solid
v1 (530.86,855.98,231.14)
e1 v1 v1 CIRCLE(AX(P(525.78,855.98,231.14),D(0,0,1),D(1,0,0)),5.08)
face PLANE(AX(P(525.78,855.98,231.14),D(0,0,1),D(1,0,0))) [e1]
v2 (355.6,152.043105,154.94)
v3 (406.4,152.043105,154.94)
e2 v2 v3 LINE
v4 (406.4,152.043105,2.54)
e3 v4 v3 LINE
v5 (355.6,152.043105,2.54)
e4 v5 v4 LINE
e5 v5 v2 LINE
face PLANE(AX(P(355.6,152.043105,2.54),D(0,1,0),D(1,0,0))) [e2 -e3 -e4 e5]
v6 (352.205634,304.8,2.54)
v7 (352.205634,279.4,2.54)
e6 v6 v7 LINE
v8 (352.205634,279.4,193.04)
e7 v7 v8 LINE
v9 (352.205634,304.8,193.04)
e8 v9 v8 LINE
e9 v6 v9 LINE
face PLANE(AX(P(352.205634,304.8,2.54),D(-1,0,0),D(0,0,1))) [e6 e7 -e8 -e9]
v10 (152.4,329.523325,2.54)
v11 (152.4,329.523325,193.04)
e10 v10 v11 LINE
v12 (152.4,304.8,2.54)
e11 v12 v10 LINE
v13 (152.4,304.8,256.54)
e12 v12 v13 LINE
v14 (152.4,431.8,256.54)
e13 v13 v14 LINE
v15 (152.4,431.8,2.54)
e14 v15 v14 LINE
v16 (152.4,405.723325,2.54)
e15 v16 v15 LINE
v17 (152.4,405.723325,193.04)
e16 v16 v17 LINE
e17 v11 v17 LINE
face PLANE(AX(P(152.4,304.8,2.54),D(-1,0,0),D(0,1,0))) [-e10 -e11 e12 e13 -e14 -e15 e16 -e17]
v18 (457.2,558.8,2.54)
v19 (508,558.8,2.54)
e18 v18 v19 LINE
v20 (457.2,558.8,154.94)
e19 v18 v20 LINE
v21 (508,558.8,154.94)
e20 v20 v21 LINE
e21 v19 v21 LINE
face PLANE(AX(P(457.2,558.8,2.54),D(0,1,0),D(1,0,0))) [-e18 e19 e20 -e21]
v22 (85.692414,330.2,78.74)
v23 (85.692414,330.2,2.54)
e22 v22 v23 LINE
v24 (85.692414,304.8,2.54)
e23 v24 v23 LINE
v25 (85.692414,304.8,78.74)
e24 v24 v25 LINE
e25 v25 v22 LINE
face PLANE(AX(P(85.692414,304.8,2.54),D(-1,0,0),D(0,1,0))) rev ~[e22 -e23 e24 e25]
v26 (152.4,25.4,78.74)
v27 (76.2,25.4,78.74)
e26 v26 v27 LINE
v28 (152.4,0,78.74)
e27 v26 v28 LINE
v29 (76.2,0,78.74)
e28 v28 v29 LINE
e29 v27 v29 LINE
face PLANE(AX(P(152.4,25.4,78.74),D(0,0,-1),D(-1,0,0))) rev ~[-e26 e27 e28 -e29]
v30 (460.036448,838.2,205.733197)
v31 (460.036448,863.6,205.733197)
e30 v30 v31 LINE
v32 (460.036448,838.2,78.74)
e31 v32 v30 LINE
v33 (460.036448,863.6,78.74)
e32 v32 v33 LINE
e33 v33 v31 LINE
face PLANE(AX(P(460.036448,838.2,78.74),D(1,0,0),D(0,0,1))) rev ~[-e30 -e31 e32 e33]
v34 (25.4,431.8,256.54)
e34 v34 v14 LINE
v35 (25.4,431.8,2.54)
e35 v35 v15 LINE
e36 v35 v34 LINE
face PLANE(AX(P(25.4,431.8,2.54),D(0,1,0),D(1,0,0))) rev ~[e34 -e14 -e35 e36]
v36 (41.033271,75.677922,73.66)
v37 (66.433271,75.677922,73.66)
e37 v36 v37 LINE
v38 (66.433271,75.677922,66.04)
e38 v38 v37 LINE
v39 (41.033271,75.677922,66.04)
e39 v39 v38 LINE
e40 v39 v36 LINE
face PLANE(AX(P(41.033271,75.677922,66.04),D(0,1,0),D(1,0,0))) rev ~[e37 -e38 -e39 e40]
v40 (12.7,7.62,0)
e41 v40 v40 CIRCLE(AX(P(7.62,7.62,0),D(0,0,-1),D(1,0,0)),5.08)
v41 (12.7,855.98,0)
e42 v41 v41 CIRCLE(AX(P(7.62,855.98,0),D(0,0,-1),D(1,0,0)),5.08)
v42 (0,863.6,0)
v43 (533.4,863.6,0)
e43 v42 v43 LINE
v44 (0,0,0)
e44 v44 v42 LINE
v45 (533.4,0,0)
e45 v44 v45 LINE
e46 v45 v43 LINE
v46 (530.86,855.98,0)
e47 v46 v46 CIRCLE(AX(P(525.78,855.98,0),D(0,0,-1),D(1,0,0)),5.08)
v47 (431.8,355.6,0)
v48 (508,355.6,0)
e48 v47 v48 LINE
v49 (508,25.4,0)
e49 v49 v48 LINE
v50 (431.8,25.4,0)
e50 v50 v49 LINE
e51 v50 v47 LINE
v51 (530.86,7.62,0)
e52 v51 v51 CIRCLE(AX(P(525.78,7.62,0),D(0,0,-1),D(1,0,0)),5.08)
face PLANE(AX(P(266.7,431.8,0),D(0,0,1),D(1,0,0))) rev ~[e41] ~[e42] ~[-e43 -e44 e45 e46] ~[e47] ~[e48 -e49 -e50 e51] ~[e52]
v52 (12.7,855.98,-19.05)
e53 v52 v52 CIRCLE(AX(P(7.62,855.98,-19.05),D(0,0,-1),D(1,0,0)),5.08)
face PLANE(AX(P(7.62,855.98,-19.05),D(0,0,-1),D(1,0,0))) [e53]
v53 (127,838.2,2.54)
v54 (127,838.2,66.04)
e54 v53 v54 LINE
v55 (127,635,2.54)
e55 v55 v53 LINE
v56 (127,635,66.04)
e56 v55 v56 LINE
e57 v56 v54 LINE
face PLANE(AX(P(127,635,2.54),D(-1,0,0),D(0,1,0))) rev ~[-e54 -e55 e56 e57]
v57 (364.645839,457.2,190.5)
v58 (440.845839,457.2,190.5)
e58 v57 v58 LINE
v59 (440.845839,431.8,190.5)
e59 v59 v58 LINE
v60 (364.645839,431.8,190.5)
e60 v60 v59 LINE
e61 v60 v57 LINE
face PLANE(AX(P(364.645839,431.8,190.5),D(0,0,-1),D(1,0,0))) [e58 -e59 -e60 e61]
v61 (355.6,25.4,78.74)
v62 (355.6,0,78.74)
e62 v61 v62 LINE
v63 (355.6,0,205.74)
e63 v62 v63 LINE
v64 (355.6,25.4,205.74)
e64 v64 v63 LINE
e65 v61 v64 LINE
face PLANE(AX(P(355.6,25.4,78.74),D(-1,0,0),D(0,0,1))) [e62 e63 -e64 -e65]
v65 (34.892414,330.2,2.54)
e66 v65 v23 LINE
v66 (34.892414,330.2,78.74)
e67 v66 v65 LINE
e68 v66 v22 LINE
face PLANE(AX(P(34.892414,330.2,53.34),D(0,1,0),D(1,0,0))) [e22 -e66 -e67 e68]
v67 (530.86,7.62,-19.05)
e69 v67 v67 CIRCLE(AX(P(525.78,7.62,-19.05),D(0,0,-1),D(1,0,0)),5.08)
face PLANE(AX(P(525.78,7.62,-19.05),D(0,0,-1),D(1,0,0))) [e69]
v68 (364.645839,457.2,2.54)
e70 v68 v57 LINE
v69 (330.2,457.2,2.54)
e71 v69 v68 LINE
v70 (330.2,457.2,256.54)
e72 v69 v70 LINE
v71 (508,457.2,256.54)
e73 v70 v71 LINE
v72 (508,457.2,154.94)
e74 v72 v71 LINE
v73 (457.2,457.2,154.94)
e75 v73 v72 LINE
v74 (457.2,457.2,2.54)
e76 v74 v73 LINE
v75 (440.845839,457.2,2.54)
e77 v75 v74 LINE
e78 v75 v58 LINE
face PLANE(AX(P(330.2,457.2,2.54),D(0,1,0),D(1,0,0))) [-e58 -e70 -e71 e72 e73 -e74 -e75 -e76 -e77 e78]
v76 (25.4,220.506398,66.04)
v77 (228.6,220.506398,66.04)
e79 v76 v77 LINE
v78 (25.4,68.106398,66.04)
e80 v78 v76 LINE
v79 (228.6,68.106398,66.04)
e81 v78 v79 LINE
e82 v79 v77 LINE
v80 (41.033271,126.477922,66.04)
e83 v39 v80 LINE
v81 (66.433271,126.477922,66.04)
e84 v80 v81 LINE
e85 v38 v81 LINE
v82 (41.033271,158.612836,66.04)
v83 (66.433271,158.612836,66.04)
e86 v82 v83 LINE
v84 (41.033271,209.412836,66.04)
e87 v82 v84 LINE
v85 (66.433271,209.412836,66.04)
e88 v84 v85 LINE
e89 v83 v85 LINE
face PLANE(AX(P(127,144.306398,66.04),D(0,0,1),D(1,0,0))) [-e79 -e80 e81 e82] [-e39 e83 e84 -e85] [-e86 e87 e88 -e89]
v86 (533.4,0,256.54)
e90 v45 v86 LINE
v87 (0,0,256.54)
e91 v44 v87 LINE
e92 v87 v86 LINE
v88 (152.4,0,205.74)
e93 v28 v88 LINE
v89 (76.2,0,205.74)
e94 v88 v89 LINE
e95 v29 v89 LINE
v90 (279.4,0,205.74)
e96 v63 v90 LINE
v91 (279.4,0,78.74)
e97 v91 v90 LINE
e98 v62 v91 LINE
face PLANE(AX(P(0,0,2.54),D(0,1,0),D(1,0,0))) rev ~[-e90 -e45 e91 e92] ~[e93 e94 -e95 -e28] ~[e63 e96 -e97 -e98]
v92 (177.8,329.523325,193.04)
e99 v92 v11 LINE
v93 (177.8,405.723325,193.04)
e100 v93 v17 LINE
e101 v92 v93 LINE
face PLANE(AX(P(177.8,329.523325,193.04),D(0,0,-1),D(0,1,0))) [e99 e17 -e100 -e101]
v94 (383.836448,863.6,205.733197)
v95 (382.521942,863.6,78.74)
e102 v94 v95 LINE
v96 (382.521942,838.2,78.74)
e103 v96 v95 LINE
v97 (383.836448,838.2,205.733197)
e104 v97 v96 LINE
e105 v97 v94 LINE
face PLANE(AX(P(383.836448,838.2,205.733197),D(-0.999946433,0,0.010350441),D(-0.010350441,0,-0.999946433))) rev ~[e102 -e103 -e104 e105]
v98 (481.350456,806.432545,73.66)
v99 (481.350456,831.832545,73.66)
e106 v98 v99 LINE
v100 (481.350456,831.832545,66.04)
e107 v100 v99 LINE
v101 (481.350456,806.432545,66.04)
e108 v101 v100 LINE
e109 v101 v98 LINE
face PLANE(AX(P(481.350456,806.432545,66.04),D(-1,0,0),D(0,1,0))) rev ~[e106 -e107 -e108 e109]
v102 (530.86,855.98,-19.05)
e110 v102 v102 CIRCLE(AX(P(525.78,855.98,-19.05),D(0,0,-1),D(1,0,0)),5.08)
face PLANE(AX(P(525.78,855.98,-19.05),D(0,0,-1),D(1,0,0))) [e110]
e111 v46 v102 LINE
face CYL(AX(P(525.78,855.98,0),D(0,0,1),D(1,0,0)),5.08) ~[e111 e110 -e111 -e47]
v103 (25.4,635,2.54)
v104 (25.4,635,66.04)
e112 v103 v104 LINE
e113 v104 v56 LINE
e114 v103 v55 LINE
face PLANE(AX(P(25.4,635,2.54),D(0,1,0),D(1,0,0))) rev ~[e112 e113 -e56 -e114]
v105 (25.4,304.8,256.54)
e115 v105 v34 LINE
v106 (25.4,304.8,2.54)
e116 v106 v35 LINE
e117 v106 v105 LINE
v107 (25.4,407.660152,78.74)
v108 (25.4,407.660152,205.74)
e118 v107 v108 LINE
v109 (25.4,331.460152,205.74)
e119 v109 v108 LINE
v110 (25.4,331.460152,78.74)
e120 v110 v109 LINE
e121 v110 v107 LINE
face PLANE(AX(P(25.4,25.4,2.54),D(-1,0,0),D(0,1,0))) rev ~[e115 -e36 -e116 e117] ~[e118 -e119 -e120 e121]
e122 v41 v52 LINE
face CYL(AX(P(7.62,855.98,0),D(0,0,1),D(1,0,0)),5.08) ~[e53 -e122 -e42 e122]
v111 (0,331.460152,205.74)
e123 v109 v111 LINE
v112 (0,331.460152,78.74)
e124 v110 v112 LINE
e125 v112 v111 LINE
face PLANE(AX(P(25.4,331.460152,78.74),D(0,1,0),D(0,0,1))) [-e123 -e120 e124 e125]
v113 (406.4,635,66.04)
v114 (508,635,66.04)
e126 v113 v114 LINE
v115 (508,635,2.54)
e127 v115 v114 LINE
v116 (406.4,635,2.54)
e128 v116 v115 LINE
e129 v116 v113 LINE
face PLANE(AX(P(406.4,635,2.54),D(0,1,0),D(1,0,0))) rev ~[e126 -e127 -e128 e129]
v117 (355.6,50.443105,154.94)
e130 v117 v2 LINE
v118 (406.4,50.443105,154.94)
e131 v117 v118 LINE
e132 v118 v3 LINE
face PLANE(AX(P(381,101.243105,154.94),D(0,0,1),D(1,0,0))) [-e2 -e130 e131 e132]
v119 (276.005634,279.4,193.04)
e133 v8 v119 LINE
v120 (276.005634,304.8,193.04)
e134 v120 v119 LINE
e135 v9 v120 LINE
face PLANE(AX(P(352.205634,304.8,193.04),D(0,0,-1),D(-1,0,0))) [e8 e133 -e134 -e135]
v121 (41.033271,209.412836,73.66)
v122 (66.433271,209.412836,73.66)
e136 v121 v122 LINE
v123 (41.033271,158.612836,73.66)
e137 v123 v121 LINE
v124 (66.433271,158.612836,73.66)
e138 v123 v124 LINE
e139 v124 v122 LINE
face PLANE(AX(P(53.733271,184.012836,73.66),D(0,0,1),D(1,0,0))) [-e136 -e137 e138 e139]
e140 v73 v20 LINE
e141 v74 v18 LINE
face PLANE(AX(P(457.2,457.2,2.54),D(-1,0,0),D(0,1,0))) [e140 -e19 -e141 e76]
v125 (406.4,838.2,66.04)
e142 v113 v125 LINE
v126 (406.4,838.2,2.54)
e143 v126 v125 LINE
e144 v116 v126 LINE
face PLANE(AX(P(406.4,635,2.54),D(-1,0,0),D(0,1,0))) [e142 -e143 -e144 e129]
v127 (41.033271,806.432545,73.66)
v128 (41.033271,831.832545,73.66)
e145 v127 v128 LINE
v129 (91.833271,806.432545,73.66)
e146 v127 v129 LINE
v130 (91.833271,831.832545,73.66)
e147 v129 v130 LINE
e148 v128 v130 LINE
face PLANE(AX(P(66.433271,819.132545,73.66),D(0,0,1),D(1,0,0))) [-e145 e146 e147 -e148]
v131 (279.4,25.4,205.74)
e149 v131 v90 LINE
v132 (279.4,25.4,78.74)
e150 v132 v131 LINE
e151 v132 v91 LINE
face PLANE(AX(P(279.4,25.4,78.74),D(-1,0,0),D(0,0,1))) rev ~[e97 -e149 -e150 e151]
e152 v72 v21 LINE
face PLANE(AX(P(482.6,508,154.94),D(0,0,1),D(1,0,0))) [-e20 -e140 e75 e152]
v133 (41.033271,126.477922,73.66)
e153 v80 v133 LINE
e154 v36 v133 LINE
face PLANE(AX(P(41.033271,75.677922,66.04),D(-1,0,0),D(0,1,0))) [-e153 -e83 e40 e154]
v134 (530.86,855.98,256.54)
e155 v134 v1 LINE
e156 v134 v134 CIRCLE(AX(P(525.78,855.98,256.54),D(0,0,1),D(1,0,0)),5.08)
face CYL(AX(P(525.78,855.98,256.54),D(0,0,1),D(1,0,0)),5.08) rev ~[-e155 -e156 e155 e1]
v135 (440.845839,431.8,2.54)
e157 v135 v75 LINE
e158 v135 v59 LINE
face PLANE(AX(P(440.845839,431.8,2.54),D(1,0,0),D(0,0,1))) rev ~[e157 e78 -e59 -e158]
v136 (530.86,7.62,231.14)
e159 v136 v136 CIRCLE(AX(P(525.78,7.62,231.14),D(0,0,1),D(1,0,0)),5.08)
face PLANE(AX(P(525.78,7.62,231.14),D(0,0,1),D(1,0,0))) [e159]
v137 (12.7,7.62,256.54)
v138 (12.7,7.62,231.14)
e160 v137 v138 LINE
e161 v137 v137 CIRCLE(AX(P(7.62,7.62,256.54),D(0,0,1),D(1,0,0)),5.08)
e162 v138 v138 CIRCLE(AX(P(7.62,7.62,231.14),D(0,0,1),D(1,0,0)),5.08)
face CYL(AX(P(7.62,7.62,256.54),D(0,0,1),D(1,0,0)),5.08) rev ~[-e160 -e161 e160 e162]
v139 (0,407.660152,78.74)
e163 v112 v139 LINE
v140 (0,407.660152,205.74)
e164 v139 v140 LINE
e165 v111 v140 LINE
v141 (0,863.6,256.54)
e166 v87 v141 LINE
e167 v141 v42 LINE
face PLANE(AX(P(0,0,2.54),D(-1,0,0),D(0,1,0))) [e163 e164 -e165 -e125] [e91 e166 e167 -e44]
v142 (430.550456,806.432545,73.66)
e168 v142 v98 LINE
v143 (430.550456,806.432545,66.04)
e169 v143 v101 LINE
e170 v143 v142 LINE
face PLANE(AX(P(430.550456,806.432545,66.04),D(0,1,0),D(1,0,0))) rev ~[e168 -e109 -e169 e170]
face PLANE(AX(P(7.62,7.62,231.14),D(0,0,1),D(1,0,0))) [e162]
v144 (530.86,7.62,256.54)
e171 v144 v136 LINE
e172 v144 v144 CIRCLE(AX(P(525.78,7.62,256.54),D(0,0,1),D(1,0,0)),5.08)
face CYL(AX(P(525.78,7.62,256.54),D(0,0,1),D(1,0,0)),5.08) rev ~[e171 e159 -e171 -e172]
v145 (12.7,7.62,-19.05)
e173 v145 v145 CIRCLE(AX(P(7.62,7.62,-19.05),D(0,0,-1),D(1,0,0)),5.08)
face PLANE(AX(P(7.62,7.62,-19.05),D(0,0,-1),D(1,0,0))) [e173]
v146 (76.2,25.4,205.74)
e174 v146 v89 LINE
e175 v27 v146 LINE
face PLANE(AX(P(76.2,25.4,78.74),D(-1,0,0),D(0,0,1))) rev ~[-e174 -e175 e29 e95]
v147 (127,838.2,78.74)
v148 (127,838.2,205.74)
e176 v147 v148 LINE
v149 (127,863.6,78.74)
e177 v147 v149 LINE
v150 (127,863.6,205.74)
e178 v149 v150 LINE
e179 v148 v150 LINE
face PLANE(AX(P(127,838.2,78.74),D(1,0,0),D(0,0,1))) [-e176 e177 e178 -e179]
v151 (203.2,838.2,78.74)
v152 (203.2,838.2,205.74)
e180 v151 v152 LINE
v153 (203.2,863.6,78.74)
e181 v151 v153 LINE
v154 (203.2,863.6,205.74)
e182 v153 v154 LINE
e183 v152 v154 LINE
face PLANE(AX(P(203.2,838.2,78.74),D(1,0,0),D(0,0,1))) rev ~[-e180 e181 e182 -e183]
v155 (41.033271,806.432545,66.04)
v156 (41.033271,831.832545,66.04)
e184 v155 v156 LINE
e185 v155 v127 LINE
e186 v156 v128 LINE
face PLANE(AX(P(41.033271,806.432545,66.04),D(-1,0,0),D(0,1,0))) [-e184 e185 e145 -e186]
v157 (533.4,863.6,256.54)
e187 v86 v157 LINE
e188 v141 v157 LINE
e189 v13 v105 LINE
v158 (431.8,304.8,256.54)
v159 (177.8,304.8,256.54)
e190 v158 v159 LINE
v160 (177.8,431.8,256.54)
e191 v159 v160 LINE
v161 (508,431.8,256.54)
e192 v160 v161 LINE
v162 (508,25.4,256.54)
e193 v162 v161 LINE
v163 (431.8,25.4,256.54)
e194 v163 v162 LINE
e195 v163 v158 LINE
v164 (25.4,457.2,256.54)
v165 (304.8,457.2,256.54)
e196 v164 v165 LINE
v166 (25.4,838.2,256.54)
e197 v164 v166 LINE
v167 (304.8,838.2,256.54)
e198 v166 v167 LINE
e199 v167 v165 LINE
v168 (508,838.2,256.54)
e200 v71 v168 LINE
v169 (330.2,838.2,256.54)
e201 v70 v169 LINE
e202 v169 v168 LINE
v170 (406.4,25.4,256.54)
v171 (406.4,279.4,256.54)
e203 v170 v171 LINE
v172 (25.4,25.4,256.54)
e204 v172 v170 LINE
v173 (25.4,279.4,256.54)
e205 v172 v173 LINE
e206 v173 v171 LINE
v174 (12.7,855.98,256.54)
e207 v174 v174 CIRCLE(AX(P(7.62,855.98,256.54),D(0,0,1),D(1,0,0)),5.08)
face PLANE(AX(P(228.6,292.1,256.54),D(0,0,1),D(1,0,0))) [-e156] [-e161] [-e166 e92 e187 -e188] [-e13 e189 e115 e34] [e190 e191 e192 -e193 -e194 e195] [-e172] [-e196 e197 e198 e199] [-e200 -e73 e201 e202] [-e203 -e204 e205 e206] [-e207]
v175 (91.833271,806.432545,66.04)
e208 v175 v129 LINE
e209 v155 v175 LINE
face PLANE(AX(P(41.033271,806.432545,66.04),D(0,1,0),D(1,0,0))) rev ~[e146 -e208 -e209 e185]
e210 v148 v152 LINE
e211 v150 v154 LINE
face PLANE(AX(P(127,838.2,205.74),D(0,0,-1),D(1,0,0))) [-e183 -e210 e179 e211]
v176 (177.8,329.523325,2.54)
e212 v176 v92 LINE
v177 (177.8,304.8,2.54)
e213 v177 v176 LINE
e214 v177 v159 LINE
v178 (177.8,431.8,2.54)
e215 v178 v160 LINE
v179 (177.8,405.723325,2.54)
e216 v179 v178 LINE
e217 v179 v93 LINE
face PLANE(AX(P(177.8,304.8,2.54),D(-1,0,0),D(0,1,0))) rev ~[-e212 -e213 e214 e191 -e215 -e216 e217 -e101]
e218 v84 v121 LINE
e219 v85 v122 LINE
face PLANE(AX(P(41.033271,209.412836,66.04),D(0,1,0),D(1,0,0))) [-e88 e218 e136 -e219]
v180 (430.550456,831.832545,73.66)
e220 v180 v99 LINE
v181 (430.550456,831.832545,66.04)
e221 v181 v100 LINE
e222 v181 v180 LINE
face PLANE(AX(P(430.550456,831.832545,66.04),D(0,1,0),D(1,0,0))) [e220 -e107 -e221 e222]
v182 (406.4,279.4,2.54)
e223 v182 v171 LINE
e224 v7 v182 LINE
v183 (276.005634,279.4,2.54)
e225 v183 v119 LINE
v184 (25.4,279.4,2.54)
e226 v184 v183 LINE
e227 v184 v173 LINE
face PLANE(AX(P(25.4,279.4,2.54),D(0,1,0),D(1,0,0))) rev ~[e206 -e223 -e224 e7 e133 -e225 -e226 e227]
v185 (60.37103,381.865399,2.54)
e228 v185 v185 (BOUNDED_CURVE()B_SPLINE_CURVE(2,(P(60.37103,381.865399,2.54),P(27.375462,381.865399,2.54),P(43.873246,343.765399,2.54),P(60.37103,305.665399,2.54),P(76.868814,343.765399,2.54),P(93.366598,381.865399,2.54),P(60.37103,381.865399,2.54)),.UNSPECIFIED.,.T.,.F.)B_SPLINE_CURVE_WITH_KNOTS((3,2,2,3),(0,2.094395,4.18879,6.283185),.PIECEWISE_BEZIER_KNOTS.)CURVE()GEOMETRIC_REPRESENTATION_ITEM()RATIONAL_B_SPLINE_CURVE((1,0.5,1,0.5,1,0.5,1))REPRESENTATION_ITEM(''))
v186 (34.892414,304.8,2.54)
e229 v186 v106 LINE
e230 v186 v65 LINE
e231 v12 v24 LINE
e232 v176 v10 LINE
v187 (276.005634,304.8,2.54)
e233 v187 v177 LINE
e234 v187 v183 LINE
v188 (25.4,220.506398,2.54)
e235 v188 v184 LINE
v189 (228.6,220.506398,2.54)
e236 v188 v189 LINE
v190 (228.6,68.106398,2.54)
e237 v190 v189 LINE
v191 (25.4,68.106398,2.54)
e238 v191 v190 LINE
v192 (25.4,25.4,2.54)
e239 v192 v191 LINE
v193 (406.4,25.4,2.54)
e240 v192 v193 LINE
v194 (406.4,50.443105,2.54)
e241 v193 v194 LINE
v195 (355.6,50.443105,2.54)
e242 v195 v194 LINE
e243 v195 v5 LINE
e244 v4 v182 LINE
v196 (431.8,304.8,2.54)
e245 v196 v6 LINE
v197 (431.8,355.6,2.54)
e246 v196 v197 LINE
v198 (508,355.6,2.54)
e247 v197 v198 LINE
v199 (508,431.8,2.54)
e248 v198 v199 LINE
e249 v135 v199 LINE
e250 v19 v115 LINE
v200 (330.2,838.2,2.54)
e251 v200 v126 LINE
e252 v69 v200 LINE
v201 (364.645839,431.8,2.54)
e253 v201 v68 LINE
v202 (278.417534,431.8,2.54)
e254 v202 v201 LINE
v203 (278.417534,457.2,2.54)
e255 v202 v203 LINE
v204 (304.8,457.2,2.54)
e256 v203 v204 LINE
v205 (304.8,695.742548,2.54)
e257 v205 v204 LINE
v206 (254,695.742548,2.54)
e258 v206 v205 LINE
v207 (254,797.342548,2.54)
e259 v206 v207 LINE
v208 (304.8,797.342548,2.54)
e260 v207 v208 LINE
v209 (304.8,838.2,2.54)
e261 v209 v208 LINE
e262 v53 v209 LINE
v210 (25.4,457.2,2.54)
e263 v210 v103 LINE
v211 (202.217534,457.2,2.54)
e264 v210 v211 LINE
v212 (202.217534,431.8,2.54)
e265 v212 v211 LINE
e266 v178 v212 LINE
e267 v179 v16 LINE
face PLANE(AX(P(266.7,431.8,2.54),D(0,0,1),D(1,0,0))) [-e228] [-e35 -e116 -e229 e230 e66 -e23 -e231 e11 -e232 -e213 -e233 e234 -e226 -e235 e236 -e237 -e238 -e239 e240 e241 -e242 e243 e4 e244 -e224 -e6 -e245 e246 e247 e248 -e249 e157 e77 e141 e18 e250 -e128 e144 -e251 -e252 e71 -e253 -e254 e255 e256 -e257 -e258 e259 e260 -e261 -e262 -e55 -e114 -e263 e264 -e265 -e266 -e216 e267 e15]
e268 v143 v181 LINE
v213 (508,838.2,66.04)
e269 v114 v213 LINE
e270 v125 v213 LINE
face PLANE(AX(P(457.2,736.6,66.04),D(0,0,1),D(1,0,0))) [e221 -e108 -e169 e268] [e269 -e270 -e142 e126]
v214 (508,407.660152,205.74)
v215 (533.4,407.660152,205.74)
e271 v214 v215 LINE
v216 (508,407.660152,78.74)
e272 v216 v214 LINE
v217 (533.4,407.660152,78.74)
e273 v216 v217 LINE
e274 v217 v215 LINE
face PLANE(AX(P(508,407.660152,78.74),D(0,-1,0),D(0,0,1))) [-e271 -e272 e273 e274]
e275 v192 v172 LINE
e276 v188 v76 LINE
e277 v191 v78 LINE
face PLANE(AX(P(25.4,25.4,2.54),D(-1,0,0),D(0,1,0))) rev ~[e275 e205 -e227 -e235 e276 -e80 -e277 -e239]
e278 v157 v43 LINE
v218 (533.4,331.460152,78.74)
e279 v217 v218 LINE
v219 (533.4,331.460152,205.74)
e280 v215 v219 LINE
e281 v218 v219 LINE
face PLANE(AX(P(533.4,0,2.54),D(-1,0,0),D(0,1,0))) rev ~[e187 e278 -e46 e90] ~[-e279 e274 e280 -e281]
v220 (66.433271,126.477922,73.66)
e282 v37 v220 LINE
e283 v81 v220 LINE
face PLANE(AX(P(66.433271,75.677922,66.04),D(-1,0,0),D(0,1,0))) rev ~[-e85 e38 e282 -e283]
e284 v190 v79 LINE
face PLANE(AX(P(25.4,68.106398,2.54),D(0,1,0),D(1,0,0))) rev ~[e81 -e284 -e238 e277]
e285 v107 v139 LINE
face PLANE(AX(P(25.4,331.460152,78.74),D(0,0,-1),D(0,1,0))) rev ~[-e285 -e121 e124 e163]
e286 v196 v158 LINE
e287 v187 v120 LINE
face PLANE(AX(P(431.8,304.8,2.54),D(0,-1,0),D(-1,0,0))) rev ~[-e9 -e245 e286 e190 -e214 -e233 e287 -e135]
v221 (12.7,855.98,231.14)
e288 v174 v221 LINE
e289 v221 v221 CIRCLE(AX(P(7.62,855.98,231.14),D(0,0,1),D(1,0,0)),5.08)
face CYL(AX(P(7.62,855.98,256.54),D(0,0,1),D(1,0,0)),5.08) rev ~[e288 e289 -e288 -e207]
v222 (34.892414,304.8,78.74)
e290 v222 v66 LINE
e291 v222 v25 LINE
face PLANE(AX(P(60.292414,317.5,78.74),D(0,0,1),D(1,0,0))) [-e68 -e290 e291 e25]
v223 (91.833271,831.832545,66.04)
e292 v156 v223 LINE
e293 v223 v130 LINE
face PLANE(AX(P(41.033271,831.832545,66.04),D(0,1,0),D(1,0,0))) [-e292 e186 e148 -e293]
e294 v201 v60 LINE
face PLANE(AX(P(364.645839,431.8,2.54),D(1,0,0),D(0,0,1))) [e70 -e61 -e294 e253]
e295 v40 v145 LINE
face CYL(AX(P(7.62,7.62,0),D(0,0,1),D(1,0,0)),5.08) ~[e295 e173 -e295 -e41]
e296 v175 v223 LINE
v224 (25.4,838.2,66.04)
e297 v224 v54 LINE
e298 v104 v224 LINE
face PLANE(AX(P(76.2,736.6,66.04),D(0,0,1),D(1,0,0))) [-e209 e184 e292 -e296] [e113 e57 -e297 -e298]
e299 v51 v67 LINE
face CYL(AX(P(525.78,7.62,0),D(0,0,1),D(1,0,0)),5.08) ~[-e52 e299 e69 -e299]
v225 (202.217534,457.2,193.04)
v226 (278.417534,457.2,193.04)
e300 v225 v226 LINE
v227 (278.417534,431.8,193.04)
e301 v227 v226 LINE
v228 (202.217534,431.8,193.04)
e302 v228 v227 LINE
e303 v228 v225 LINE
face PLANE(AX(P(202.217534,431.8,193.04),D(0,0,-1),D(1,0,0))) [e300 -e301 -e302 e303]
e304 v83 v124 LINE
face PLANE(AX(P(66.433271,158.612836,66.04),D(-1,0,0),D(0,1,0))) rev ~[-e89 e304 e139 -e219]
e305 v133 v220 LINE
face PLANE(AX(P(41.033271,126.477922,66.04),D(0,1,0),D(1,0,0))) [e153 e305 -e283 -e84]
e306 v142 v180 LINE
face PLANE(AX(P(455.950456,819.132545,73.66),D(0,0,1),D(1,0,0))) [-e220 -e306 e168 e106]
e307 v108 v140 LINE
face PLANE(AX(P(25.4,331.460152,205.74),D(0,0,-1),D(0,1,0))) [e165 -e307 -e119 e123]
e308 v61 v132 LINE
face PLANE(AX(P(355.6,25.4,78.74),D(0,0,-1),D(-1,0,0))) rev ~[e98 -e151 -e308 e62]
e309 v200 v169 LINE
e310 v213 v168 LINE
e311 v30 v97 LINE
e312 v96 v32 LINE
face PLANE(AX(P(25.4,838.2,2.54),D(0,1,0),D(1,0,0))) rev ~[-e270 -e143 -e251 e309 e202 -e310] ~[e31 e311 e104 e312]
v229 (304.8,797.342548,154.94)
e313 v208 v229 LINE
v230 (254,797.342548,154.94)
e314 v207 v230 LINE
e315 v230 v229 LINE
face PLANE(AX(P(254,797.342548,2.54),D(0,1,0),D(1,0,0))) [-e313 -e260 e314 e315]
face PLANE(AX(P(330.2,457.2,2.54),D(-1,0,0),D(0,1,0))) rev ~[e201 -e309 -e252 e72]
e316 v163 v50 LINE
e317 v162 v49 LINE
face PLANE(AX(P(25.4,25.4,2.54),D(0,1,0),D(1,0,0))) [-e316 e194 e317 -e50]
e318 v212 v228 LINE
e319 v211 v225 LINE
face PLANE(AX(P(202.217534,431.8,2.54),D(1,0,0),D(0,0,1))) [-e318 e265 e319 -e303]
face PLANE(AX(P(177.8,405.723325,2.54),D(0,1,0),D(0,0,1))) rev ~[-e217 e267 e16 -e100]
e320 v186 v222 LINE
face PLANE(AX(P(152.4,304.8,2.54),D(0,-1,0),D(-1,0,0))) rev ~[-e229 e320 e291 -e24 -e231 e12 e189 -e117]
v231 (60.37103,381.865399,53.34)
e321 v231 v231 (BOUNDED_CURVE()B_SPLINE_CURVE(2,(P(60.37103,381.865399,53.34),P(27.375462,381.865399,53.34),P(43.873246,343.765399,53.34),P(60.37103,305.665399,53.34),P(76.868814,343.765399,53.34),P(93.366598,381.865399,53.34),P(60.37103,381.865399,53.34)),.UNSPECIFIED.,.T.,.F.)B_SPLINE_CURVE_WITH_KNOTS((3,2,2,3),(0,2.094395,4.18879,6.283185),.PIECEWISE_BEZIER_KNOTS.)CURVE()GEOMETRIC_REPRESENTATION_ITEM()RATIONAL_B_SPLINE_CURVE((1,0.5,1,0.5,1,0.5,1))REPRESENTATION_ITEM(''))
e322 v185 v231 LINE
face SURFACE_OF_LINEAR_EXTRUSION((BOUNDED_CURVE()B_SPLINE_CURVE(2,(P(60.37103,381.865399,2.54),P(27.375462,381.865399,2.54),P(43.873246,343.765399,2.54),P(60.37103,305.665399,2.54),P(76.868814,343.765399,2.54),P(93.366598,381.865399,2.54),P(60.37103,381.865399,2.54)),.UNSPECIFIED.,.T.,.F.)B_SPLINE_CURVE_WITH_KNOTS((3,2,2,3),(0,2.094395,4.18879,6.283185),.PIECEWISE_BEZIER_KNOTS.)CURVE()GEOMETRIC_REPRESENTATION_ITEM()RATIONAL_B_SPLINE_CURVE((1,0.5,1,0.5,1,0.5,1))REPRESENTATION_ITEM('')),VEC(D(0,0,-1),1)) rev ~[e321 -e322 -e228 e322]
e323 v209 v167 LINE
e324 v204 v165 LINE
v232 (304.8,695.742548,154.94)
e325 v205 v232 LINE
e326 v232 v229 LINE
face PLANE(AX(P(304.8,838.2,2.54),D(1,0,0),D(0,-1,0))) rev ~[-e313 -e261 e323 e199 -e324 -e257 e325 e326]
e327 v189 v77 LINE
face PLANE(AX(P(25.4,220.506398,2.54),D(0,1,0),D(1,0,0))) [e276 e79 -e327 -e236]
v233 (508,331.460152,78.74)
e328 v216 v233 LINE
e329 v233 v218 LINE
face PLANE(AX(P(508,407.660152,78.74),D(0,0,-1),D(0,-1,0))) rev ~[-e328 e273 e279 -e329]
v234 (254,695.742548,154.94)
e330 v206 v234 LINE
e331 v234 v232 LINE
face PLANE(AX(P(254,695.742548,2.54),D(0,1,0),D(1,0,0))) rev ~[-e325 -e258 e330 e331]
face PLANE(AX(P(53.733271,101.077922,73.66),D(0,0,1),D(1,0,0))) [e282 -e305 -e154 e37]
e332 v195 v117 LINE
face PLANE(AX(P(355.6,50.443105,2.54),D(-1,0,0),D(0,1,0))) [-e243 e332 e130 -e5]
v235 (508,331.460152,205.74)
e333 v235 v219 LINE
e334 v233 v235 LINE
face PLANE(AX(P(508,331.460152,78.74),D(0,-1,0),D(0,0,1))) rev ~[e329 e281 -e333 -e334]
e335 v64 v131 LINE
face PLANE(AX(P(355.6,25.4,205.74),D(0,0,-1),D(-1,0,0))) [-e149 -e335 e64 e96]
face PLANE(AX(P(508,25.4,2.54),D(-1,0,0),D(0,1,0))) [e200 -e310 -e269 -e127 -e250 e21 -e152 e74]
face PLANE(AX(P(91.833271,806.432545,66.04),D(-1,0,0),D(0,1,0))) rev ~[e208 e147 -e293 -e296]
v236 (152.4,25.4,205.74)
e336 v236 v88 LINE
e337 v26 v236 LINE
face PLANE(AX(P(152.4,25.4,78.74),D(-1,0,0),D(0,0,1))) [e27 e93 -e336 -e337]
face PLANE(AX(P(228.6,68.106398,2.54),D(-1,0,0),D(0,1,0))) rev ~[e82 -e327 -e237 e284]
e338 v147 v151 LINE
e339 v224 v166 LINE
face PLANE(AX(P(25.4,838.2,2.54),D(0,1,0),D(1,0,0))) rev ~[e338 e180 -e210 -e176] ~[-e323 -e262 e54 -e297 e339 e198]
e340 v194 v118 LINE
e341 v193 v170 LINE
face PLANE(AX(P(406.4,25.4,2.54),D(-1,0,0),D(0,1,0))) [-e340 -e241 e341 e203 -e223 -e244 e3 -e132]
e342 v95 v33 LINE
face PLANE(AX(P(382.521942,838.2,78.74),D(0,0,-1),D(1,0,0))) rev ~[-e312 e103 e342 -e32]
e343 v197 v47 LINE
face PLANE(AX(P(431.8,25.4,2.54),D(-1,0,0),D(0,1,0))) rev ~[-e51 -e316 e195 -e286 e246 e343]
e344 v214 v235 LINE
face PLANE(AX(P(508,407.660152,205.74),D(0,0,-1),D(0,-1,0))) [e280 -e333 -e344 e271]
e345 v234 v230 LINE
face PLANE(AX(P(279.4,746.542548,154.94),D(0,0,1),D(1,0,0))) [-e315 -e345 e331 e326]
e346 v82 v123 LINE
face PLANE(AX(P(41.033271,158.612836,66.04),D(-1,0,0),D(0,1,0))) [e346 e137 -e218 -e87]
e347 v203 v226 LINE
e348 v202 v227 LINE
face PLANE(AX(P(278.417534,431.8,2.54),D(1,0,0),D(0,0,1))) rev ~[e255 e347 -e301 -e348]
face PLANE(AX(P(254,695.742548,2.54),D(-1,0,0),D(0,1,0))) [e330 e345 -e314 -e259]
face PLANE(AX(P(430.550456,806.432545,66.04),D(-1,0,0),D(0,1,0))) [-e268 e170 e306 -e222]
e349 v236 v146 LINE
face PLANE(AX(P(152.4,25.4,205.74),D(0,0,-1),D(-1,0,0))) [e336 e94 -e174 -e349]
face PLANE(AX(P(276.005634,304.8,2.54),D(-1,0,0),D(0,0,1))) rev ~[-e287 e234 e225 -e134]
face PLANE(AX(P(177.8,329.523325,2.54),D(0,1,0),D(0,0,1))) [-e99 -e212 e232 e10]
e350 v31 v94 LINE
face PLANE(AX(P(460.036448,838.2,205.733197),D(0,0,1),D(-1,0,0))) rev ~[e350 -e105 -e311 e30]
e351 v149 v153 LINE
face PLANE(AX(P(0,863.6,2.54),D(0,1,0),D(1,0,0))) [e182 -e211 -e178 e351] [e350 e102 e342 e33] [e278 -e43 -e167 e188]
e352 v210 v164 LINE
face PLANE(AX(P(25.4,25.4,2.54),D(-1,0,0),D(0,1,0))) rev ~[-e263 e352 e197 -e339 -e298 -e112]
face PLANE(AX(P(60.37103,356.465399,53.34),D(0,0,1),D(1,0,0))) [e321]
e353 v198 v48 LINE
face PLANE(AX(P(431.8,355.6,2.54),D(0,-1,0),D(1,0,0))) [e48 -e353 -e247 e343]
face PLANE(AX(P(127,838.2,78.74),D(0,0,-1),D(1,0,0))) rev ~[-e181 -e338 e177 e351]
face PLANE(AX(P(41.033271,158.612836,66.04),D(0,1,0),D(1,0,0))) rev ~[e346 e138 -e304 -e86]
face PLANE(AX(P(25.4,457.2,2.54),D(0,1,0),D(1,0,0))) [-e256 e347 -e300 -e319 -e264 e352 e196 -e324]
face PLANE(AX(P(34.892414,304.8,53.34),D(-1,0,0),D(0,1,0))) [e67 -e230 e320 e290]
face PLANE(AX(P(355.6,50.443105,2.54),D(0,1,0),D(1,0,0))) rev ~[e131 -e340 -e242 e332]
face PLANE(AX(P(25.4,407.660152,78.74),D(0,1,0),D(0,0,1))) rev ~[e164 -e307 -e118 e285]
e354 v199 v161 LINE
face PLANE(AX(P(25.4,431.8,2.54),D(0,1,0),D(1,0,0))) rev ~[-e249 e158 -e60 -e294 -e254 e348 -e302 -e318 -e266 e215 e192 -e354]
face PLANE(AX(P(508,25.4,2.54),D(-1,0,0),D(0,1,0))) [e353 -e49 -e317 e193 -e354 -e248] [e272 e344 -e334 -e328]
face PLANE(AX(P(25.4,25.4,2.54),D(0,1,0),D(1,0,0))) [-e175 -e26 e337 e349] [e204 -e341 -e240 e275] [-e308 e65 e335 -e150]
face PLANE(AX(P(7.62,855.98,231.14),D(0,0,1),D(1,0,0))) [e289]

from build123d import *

# Parameters (mm, degrees)
F0_W      = 533.4
F0_H      = 863.6
F1_DEPTH  = 2.54
F2_W      = 533.4
F2_H      = 863.6
F2_W_2    = 482.6
F2_H_2    = 812.8
F3_DEPTH  = 254
F4_W      = 76.2
F4_H      = 330.2
F5_DEPTH  = 25.4
F6_W      = 177.8
F6_H      = 25.4
F6_W_2    = 279.4
F7_DEPTH  = 254
F8_W      = 25.4
F8_H      = 254
F8_H_2    = 127
F9_DEPTH  = 254
F10_W     = 76.2
F10_H     = 190.5
F10_H_2   = 187.96
F11_DEPTH = 25.4
F12_W     = 76.2
F12_H     = 190.5
F13_DEPTH = 25.4
F14_W     = 76.2
F14_H     = 190.5
F15_DEPTH = 25.4
F17_DEPTH = 25.4
F18_W     = 76.2
F18_H     = 127
F19_DEPTH = 25.4
F20_W     = 76.2
F20_H     = 127
F21_DEPTH = 25.4
F22_W     = 76.2
F22_H     = 127
F23_DEPTH = 25.4
F24_W     = 76.2
F24_H     = 127
F25_DEPTH = 25.4
F26_R     = 5.08
F27_DEPTH = 19.05
F28_R     = 5.08
F29_DEPTH = 25.4
F30_W     = 101.6
F30_H     = 203.2
F30_W_2   = 203.2
F30_H_2   = 152.4
F31_DEPTH = 63.5
F32_W     = 50.8
F32_H     = 25.4
F32_W_2   = 25.4
F32_H_2   = 50.8
F33_DEPTH = 7.62
F34_W     = 50.8
F34_H     = 101.6
F35_DEPTH = 152.4
F36_W     = 50.8
F36_H     = 25.4
F37_DEPTH = 50.8
F38_W     = 50.8
F38_H     = 25.4
F39_DEPTH = 25.4


with BuildPart() as f1:
    # F0 (on Top) → F1 (new body)
    with BuildSketch(Plane.XY):
        with Locations((266.7, 431.8)):
            Rectangle(F0_W, F0_H)
    extrude(amount=F1_DEPTH)

    # F2 (on face) → F3 (join)
    with BuildSketch(Plane.XY.offset(2.54)):
        with Locations((266.7, 431.8)):
            Rectangle(F2_W, F2_H)
        with Locations((266.7, 431.8)):
            Rectangle(F2_W_2, F2_H_2, mode=Mode.SUBTRACT)
    extrude(amount=F3_DEPTH)

    # F4 (on face) → F5 (cut)
    with BuildSketch(Plane.XY.offset(2.54)):
        with Locations((469.9, 190.5)):
            Rectangle(F4_W, F4_H)
    extrude(amount=-F5_DEPTH, mode=Mode.SUBTRACT)

    # F6 (on face) → F7 (join)
    with BuildSketch(Plane.XY.offset(2.54)):
        with Locations((419.1, 444.5)):
            Rectangle(F6_W, F6_H)
        Polygon((304.8, 431.8), (330.2, 431.8), (330.2, 457.2), (330.2, 838.2), (304.8, 838.2), (304.8, 457.2), align=None)
        with Locations((165.1, 444.5)):
            Rectangle(F6_W_2, F6_H)
    extrude(amount=F7_DEPTH)

    # F8 (on face) → F9 (join)
    with BuildSketch(Plane.XY.offset(2.54)):
        Polygon((152.4, 304.8), (25.4, 304.8), (25.4, 279.4), (406.4, 279.4), (431.8, 279.4), (431.8, 304.8), (177.8, 304.8), align=None)
        with Locations((419.1, 152.4)):
            Rectangle(F8_W, F8_H)
        with Locations((165.1, 368.3)):
            Rectangle(F8_W, F8_H_2)
    extrude(amount=F9_DEPTH)

    # F10 (on face) → F11 (cut)
    with BuildSketch(Plane.XZ.offset(-431.8)):
        with Locations((240.317534, 97.79)):
            Rectangle(F10_W, F10_H)
        with Locations((402.745839, 96.52)):
            Rectangle(F10_W, F10_H_2)
    extrude(amount=-F11_DEPTH, mode=Mode.SUBTRACT)

    # F12 (on face) → F13 (cut)
    with BuildSketch(Plane.YZ.offset(177.8)):
        with Locations((367.623325, 97.79)):
            Rectangle(F12_W, F12_H)
    extrude(amount=-F13_DEPTH, mode=Mode.SUBTRACT)

    # F14 (on face) → F15 (cut)
    with BuildSketch(Plane(origin=(0, 304.8, 0), x_dir=(-1, 0, 0), z_dir=(0, 1, 0))):
        with Locations((-314.105634, 97.79)):
            Rectangle(F14_W, F14_H)
    extrude(amount=-F15_DEPTH, mode=Mode.SUBTRACT)

    # F16 (on face) → F17 (cut)
    with BuildSketch(Plane.XZ.offset(-838.2)):
        Polygon((383.836448, 205.733197), (382.521942, 78.74), (460.036448, 78.74), (460.036448, 205.733197), align=None)
    extrude(amount=-F17_DEPTH, mode=Mode.SUBTRACT)

    # F18 (on face) → F19 (cut)
    with BuildSketch(Plane.XZ.offset(-838.2)):
        with Locations((165.1, 142.24)):
            Rectangle(F18_W, F18_H)
    extrude(amount=-F19_DEPTH, mode=Mode.SUBTRACT)

    # F20 (on face) → F21 (cut)
    with BuildSketch(Plane.YZ.offset(25.4)):
        with Locations((369.560152, 142.24)):
            Rectangle(F20_W, F20_H)
    extrude(amount=-F21_DEPTH, mode=Mode.SUBTRACT)

    # F22 (on face) → F23 (cut)
    with BuildSketch(Plane(origin=(0, 25.4, 0), x_dir=(-1, 0, 0), z_dir=(0, 1, 0))):
        with Locations((-317.5, 142.24)):
            Rectangle(F22_W, F22_H)
        with Locations((-114.3, 142.24)):
            Rectangle(F22_W, F22_H)
    extrude(amount=-F23_DEPTH, mode=Mode.SUBTRACT)

    # F24 (on face) → F25 (cut)
    with BuildSketch(Plane(origin=(508, 0, 0), x_dir=(0, -1, 0), z_dir=(-1, 0, 0))):
        with Locations((-369.560152, 142.24)):
            Rectangle(F24_W, F24_H)
    extrude(amount=-F25_DEPTH, mode=Mode.SUBTRACT)

    # F26 (on face) → F27 (join)
    with BuildSketch(Plane(origin=(0, 0, 0), x_dir=(1, 0, 0), z_dir=(0, 0, -1))):
        with Locations((7.62, -7.62)):
            Circle(F26_R)
        with Locations((525.78, -7.62)):
            Circle(F26_R)
        with Locations((525.78, -855.98)):
            Circle(F26_R)
        with Locations((7.62, -855.98)):
            Circle(F26_R)
    extrude(amount=F27_DEPTH)

    # F28 (on face) → F29 (cut)
    with BuildSketch(Plane.XY.offset(256.54)):
        with Locations((7.62, 7.62)):
            Circle(F28_R)
        with Locations((525.78, 7.62)):
            Circle(F28_R)
        with Locations((525.78, 855.98)):
            Circle(F28_R)
        with Locations((7.62, 855.98)):
            Circle(F28_R)
    extrude(amount=-F29_DEPTH, mode=Mode.SUBTRACT)

    # F30 (on face) → F31 (join)
    with BuildSketch(Plane.XY.offset(2.54)):
        with Locations((76.2, 736.6)):
            Rectangle(F30_W, F30_H)
        with Locations((457.2, 736.6)):
            Rectangle(F30_W, F30_H)
        with Locations((127, 144.306398)):
            Rectangle(F30_W_2, F30_H_2)
    extrude(amount=F31_DEPTH)

    # F32 (on face) → F33 (join)
    with BuildSketch(Plane.XY.offset(66.04)):
        with Locations((66.433271, 819.132545)):
            Rectangle(F32_W, F32_H)
        with Locations((455.950456, 819.132545)):
            Rectangle(F32_W, F32_H)
        with Locations((53.733271, 101.077922)):
            Rectangle(F32_W_2, F32_H_2)
        with Locations((53.733271, 184.012836)):
            Rectangle(F32_W_2, F32_H_2)
    extrude(amount=F33_DEPTH)

    # F34 (on face) → F35 (join)
    with BuildSketch(Plane.XY.offset(2.54)):
        with Locations((279.4, 746.542548)):
            Rectangle(F34_W, F34_H)
        with Locations((482.6, 508)):
            Rectangle(F34_W, F34_H)
        with Locations((381, 101.243105)):
            Rectangle(F34_W, F34_H)
    extrude(amount=F35_DEPTH)

    # F36 (on face) → F37 (join)
    with BuildSketch(Plane.XY.offset(2.54)):
        with Locations((60.292414, 317.5)):
            Rectangle(F36_W, F36_H)
        with BuildLine():
            add(Edge.make_bspline(
                [(60.37103, 381.865399), (27.375462, 381.865399), (43.873246, 343.765399), (60.37103, 305.665399), (76.868814, 343.765399), (93.366598, 381.865399), (60.37103, 381.865399)],
                knots=[0, 0, 0, 2.094395, 2.094395, 4.18879, 4.18879, 6.283185, 6.283185, 6.283185], degree=2, weights=[1, 0.5, 1, 0.5, 1, 0.5, 1]))
        make_face()
    extrude(amount=F37_DEPTH)

    # F38 (on face) → F39 (join)
    with BuildSketch(Plane.XY.offset(53.34)):
        with Locations((60.292414, 317.5)):
            Rectangle(F38_W, F38_H)
    extrude(amount=F39_DEPTH)


solid = f1.part
